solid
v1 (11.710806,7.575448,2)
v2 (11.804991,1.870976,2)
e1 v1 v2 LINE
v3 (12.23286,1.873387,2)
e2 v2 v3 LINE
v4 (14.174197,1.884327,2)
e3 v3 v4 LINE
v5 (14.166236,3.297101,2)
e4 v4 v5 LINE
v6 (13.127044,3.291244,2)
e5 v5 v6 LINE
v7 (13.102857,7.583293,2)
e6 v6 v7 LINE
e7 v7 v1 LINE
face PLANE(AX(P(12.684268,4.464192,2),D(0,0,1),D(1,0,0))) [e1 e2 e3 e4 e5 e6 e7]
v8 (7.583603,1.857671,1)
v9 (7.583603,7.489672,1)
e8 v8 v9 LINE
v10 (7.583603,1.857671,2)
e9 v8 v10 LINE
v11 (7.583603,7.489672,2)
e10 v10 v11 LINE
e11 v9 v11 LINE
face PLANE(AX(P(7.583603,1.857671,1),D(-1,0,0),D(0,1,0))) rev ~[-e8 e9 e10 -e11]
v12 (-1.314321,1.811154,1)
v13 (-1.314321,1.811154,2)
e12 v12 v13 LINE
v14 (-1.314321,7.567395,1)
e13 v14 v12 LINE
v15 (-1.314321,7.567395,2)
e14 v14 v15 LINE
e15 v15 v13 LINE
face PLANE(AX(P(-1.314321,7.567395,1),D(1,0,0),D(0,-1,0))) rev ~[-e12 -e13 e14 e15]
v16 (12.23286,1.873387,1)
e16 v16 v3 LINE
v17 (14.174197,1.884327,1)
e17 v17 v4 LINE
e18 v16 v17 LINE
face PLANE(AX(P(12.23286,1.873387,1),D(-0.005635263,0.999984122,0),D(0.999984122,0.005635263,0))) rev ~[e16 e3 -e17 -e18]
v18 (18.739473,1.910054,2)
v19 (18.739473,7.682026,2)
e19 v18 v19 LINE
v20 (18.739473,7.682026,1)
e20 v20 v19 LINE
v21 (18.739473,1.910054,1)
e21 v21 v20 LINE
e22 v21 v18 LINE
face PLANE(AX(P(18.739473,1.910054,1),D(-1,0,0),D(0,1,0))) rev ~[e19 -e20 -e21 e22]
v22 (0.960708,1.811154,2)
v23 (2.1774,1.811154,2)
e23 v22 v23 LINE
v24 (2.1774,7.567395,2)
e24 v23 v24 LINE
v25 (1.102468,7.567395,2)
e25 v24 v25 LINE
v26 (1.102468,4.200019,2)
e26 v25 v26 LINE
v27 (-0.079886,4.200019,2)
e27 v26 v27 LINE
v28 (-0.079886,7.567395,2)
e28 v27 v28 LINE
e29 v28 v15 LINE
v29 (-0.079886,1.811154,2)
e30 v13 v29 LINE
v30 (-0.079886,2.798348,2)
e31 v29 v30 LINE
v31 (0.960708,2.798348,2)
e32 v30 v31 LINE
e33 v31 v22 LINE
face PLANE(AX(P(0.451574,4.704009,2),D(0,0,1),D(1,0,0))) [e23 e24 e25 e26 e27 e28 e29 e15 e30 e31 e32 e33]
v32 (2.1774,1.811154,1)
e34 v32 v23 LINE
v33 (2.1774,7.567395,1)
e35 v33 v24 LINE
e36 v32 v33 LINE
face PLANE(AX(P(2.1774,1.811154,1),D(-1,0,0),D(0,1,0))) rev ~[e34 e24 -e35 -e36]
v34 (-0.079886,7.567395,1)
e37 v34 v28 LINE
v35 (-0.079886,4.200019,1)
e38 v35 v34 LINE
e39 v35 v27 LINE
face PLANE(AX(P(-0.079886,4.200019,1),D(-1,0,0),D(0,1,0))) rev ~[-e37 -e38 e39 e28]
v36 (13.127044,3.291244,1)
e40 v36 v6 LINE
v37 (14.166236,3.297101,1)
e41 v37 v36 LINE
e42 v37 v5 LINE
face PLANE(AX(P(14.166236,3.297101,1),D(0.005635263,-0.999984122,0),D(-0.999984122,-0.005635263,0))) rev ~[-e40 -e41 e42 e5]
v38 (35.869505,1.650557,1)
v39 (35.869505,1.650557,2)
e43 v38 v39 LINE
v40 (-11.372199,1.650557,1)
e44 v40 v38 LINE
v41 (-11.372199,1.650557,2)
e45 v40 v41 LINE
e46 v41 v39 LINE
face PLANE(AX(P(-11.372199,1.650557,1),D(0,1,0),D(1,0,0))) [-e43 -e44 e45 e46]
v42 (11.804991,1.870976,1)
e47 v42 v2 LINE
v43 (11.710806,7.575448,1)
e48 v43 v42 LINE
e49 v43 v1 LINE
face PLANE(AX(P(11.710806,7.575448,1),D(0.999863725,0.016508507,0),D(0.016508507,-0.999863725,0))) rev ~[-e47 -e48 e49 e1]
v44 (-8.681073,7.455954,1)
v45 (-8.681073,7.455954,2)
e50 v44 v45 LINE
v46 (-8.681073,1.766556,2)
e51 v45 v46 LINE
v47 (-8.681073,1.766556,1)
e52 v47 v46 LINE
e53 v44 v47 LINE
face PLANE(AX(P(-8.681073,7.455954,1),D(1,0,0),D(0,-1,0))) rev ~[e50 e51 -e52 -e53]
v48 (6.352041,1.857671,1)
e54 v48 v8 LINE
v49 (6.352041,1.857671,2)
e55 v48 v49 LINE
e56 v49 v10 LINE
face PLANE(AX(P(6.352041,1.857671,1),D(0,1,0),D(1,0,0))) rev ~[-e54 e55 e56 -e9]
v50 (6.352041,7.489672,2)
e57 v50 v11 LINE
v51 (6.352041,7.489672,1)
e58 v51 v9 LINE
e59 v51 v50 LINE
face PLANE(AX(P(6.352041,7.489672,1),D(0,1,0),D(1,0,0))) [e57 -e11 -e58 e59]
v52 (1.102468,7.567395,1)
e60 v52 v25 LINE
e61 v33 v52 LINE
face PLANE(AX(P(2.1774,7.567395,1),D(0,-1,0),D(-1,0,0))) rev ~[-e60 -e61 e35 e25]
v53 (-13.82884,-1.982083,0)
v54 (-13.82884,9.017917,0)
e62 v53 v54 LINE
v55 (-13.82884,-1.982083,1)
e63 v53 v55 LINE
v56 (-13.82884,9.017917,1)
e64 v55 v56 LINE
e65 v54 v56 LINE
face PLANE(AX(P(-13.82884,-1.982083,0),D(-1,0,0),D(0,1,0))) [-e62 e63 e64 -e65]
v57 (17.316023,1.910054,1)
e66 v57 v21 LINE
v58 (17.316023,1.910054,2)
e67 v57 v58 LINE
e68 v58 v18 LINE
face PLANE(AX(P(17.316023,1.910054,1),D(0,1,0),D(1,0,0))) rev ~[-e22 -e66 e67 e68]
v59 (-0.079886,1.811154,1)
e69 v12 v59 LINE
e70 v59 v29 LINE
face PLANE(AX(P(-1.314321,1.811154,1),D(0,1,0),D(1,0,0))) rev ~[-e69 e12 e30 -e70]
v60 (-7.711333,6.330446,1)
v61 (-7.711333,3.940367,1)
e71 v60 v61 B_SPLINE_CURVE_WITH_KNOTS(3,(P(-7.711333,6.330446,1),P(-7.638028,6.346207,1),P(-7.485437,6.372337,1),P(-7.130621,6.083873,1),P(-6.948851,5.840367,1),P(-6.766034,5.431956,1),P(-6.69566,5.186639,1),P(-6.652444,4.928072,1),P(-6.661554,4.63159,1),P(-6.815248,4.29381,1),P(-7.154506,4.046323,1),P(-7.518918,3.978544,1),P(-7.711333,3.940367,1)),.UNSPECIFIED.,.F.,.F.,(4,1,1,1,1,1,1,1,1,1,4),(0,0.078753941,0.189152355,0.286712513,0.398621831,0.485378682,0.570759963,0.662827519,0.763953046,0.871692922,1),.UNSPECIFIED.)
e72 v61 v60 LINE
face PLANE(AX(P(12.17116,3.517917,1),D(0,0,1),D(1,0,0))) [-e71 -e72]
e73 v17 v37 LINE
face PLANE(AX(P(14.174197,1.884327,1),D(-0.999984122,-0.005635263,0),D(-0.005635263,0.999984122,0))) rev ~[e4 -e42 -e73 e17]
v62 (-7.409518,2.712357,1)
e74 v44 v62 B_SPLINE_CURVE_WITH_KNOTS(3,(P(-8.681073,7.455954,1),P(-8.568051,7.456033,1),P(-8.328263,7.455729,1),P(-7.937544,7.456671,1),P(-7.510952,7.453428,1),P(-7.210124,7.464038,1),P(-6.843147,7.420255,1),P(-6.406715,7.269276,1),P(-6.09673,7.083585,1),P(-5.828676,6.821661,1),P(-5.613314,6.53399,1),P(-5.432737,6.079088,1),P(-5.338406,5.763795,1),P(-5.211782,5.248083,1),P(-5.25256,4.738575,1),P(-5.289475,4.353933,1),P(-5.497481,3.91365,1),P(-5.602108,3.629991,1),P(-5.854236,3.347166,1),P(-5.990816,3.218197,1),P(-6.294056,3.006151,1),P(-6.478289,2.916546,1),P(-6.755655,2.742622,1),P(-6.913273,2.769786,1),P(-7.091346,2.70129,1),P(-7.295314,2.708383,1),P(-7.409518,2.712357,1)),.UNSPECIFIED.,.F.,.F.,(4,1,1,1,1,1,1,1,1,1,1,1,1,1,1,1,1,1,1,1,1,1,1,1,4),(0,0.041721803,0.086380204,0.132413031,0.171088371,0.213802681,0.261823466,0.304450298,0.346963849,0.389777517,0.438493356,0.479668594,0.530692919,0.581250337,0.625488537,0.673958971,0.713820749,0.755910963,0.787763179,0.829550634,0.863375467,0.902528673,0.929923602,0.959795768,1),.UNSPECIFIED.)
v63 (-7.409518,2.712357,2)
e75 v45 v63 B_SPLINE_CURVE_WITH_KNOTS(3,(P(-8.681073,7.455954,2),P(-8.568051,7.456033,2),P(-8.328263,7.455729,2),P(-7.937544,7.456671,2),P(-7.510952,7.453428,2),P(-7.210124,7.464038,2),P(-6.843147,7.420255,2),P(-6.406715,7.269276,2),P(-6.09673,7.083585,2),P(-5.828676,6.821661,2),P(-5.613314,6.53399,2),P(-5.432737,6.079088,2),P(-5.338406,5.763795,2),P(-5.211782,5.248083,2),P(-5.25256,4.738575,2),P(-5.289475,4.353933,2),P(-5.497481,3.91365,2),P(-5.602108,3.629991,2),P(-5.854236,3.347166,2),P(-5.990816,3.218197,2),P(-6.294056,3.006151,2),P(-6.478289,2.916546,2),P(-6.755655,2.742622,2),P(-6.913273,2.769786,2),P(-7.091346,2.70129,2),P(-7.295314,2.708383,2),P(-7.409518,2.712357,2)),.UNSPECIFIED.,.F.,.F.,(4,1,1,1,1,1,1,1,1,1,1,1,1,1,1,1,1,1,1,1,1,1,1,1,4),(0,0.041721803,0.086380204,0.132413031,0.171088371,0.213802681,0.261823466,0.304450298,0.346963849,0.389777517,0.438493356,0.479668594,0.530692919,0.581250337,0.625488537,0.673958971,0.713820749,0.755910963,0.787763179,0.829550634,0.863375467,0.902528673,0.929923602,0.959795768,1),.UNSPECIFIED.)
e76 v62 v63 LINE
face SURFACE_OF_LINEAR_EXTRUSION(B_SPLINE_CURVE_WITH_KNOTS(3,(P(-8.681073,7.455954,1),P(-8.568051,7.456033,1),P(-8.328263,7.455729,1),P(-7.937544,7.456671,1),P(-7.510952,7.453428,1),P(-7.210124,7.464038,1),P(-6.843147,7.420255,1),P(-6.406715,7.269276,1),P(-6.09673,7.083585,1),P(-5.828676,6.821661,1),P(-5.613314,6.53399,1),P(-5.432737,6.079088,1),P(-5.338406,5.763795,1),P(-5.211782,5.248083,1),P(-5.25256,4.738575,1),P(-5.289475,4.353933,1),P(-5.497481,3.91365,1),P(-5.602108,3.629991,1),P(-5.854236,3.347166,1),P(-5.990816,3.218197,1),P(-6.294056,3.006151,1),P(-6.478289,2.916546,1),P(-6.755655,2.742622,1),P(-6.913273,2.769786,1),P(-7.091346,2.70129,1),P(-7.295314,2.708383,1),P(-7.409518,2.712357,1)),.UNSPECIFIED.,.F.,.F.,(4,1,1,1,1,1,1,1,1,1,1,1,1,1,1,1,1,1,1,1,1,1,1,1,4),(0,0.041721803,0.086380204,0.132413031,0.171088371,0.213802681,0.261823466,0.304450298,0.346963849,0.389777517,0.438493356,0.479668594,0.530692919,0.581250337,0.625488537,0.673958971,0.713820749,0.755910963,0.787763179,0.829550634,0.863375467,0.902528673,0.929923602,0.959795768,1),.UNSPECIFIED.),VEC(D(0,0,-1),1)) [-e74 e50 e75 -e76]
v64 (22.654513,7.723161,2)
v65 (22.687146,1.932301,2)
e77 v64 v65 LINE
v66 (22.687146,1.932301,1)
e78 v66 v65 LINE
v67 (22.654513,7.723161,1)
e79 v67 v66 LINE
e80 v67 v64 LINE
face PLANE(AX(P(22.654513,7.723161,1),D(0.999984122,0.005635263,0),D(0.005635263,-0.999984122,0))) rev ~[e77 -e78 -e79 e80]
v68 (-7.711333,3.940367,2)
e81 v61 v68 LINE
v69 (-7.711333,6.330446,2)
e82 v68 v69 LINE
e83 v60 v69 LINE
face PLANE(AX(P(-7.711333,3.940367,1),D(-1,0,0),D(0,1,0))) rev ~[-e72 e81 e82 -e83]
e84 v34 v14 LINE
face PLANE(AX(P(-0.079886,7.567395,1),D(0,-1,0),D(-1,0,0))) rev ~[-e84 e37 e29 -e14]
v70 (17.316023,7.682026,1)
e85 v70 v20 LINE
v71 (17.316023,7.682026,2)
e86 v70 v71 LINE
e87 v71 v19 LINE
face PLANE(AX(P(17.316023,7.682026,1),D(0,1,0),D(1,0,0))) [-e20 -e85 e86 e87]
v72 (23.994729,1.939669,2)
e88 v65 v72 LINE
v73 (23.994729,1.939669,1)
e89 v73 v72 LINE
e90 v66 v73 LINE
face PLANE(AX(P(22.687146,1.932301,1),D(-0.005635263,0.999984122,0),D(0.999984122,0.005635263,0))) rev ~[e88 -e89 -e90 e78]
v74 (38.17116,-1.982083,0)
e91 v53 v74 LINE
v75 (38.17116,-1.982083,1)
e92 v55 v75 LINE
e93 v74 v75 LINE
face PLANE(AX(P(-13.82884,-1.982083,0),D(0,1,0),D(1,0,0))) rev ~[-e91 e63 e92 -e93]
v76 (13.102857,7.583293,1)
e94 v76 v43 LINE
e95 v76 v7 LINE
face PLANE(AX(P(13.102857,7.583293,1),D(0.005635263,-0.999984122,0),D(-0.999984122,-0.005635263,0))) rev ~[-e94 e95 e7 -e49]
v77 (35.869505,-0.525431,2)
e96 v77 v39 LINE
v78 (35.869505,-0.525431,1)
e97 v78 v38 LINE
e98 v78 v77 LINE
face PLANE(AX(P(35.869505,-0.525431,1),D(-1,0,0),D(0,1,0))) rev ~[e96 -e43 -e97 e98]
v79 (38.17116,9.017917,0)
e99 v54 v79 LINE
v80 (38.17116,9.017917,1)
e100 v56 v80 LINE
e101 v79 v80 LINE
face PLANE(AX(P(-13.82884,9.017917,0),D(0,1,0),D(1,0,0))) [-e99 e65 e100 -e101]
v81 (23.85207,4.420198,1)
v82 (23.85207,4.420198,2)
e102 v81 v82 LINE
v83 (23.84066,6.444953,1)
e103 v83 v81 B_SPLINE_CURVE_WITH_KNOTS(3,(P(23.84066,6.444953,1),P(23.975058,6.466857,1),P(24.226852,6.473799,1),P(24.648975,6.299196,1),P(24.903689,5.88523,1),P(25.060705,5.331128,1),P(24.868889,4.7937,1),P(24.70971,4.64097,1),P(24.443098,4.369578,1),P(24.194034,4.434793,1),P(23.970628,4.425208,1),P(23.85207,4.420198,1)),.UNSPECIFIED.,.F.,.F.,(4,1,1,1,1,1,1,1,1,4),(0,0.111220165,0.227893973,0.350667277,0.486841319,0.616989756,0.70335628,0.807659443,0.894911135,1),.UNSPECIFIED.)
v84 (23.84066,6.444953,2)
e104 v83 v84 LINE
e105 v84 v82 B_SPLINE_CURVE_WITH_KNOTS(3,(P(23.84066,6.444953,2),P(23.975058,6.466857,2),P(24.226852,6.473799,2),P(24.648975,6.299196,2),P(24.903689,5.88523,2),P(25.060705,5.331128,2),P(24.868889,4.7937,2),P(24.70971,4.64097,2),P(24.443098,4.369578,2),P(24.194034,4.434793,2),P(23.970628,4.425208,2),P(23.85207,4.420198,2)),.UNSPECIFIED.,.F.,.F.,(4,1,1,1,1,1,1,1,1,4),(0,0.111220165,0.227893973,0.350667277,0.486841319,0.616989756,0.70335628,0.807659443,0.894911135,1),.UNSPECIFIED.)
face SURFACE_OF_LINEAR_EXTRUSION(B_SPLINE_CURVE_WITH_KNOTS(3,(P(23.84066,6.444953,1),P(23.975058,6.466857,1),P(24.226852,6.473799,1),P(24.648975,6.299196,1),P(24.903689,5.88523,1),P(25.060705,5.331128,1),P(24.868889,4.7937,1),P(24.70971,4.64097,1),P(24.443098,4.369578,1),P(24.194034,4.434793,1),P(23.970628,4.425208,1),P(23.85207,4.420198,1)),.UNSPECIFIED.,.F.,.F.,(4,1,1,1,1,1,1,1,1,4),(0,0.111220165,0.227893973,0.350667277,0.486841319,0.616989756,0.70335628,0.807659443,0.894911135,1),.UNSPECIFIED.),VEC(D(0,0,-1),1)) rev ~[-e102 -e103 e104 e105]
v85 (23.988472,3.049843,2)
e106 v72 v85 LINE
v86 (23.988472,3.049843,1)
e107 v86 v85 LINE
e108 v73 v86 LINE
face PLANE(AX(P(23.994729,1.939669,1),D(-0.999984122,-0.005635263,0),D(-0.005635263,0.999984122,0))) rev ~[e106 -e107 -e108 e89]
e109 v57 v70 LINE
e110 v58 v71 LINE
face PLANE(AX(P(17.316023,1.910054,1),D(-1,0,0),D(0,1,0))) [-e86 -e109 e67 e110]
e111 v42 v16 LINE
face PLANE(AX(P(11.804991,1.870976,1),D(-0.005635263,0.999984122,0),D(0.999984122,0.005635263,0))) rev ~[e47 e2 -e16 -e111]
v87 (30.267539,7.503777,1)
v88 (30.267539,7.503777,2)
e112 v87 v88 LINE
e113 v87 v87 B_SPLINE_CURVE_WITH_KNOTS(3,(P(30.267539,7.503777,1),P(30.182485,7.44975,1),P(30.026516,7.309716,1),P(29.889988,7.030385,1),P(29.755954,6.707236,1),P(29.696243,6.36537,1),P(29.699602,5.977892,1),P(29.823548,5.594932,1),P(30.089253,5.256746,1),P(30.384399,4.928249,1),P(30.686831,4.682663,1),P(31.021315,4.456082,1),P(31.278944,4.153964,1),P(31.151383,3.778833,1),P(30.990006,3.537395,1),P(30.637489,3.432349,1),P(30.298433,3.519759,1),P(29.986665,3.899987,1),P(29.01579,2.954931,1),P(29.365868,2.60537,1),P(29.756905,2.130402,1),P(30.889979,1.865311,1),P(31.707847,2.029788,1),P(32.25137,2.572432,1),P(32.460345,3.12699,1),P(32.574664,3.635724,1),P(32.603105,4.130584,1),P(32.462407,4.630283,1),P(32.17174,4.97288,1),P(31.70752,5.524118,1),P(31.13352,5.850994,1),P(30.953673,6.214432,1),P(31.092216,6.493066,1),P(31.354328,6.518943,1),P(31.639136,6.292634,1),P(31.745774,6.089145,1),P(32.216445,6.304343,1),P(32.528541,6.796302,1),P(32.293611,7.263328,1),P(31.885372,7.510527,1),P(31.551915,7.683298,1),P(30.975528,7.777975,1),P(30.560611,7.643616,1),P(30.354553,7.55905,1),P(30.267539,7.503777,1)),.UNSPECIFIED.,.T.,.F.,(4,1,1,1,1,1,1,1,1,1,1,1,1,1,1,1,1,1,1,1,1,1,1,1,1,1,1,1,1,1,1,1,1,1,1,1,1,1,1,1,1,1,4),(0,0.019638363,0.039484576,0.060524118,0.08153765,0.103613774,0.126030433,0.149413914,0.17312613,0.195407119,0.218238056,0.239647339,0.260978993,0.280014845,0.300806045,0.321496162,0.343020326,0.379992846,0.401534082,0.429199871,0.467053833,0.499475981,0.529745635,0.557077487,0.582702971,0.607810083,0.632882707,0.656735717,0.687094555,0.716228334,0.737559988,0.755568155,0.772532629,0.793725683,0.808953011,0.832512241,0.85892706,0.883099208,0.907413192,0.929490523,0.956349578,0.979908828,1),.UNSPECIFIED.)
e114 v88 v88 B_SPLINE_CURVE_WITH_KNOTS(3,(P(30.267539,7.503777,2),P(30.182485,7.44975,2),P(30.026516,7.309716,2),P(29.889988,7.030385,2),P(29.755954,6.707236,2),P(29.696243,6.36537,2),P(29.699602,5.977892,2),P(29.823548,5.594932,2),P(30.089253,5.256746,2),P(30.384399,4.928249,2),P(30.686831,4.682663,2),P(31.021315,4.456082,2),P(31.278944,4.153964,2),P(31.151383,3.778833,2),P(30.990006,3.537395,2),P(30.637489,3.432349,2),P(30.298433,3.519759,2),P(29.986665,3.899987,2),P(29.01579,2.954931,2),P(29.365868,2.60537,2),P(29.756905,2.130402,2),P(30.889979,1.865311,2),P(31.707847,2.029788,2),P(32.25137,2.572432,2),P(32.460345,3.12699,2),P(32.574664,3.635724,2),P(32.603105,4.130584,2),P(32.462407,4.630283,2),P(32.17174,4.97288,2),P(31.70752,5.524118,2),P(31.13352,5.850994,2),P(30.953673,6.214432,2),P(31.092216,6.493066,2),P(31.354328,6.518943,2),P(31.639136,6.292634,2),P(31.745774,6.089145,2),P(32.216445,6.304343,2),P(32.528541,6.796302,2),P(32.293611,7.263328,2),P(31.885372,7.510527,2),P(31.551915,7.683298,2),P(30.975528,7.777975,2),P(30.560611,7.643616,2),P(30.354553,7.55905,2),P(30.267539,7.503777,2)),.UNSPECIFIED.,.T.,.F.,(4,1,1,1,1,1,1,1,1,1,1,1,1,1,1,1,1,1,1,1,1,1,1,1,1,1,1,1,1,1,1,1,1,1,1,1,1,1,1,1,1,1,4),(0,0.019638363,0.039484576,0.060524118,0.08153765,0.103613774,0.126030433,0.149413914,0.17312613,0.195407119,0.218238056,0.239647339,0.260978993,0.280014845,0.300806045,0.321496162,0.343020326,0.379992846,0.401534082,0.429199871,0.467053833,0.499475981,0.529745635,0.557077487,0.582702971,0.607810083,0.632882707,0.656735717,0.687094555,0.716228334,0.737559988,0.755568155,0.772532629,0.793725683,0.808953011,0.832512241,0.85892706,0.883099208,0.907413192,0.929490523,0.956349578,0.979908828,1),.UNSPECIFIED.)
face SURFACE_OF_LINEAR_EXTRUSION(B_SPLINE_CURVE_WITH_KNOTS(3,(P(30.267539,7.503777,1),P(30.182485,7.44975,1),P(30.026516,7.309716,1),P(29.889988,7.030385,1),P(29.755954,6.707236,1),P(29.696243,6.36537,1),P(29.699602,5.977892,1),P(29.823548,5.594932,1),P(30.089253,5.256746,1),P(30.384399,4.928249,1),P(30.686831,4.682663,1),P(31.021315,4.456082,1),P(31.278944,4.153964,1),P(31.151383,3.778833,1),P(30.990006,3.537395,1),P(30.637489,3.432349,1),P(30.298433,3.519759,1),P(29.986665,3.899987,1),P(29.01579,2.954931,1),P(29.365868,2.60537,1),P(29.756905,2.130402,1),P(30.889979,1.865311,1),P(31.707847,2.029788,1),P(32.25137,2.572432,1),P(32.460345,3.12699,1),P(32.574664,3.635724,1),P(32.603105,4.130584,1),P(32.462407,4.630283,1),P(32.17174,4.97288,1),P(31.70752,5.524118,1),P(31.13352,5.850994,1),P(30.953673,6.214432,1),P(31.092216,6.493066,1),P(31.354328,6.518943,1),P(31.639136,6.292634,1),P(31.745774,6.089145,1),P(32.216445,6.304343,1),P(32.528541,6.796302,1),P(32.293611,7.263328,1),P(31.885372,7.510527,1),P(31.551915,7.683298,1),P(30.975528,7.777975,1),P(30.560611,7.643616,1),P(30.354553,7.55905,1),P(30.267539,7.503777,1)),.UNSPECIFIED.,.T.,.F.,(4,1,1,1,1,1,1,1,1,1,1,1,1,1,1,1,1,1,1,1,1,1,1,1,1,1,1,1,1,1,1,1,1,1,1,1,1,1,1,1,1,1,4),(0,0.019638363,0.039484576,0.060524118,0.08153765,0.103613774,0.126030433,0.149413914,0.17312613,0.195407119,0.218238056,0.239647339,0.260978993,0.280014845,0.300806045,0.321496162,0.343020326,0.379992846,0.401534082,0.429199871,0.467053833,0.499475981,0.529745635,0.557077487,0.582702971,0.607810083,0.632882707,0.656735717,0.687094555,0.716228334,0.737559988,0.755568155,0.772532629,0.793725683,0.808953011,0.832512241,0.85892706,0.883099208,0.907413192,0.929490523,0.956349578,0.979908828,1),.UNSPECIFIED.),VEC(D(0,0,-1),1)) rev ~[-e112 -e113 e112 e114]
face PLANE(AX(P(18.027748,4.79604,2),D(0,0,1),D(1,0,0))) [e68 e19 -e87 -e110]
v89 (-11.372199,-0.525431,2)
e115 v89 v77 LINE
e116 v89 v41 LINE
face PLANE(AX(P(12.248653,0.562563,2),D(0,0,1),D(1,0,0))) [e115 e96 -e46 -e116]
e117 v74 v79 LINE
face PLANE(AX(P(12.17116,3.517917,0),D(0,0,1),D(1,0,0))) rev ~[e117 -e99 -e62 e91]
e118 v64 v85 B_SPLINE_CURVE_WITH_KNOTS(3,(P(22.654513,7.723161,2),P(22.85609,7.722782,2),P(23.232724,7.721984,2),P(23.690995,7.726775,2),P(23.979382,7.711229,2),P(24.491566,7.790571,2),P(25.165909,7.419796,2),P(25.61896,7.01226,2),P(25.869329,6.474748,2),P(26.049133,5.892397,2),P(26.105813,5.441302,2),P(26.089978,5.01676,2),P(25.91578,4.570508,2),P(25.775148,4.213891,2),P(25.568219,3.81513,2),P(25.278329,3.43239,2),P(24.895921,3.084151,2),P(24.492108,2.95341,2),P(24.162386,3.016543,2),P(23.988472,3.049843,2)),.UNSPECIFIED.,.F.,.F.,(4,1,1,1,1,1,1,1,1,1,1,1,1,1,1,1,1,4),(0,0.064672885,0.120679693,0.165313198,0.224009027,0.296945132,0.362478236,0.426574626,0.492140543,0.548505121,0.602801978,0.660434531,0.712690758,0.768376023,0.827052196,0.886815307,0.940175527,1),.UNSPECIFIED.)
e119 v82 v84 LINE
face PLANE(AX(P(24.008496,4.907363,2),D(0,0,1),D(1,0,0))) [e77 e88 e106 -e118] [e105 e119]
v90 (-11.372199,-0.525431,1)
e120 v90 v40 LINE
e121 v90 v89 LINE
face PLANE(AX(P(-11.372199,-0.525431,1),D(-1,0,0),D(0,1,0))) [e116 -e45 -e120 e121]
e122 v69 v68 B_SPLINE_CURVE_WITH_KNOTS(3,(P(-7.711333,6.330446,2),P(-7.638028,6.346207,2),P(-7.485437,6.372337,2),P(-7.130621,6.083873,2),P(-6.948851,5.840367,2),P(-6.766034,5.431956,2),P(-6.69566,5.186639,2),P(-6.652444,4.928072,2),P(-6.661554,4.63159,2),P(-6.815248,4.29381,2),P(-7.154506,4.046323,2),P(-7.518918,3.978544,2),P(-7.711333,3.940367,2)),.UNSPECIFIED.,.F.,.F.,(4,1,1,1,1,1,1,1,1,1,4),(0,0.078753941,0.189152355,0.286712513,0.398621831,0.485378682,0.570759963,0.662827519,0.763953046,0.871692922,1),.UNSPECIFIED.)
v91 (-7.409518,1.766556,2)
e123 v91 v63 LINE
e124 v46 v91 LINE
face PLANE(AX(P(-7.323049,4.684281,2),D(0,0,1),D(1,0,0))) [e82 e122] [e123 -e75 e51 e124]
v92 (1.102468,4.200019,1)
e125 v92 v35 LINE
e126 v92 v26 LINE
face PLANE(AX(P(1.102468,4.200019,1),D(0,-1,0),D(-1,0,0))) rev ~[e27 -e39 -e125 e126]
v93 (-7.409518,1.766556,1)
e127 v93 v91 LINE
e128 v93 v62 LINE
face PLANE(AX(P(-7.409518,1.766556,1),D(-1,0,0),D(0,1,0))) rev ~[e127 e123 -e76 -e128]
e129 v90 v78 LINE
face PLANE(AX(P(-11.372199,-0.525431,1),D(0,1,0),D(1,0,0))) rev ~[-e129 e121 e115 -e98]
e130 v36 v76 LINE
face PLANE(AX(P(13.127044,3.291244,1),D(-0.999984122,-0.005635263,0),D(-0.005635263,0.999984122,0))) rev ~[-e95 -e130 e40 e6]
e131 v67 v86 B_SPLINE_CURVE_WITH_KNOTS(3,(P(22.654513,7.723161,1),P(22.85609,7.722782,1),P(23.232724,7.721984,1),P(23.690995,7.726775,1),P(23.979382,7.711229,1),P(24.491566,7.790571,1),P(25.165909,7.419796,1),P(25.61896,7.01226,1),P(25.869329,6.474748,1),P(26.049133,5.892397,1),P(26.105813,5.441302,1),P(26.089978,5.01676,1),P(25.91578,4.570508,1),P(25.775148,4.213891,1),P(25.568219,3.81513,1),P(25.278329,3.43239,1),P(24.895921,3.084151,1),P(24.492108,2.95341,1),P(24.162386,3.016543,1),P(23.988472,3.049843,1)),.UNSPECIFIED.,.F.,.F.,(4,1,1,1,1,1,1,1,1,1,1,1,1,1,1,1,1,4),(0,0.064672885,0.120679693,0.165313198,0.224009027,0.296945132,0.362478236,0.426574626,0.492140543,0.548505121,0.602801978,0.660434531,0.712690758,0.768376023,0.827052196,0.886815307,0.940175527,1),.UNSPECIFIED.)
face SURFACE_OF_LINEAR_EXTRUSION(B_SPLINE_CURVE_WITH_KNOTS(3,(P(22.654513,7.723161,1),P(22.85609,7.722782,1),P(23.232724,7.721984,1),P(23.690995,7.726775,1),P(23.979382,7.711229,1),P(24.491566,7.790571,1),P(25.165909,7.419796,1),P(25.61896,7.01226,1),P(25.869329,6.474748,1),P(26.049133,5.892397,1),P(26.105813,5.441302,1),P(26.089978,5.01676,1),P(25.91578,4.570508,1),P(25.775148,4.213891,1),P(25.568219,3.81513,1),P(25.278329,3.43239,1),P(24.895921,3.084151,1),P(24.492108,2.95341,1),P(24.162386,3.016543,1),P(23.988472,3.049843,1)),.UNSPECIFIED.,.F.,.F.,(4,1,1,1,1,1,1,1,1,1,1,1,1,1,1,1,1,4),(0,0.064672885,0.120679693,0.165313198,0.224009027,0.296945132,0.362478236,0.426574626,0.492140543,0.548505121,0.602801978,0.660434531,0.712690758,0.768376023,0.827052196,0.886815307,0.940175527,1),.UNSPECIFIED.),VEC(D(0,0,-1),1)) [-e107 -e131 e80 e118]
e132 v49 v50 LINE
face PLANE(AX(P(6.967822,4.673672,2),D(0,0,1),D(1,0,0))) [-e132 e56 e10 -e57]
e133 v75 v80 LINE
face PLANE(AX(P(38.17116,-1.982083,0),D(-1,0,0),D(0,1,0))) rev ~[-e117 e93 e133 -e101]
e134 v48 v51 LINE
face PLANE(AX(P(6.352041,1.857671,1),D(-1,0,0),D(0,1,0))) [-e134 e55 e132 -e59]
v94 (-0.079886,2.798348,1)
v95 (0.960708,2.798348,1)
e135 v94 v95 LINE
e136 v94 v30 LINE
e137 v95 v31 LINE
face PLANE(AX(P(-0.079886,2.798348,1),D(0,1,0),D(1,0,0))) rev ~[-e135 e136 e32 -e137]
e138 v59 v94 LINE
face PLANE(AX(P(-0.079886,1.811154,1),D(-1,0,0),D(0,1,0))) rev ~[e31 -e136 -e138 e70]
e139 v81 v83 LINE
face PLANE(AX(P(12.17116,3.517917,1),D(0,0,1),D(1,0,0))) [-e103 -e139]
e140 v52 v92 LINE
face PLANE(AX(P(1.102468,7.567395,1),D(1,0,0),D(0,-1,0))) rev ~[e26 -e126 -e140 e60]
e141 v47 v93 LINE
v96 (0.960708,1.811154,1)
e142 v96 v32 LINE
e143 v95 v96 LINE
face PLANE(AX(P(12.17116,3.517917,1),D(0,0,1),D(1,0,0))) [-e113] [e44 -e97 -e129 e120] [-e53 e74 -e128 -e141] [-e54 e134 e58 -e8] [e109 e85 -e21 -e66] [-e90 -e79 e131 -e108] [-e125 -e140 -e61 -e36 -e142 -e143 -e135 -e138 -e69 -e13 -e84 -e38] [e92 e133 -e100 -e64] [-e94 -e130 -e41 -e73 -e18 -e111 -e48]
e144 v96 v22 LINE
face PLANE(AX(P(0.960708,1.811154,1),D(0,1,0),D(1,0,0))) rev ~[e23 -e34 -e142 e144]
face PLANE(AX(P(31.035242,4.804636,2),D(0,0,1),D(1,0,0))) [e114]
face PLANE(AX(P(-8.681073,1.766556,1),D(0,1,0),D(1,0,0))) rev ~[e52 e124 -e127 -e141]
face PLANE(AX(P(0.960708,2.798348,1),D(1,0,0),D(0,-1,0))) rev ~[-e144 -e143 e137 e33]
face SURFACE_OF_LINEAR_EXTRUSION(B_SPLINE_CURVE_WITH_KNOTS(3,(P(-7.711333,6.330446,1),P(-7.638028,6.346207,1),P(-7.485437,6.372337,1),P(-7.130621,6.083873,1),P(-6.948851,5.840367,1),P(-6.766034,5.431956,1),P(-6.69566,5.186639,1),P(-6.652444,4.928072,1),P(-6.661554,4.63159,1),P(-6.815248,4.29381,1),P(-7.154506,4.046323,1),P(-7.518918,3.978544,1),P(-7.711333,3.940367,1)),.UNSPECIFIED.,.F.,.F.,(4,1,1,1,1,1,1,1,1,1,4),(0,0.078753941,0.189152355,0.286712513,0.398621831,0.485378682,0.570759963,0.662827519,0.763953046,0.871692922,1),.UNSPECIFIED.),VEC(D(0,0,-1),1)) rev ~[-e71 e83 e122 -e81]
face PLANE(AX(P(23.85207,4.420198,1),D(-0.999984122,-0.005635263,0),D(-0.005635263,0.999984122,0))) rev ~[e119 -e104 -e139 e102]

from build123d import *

# Parameters (mm, degrees)
F0_W     = 52
F0_H     = 11
F1_DEPTH = 1
F2_W     = 1.4234498572
F2_H     = 5.771971931
F2_W_2   = 1.2315623462
F2_H_2   = 5.6320009753
F2_W_3   = 47.2417045385
F2_H_3   = 2.1759883966
F3_DEPTH = 1


with BuildPart() as f1:
    # F0 (on Top) → F1 (new body)
    with BuildSketch(Plane.XY):
        with Locations((12.1711598933, 3.5179169215)):
            Rectangle(F0_W, F0_H)
    extrude(amount=F1_DEPTH)

    # F2 (on face) → F3 (join)
    with BuildSketch(Plane.XY.offset(1)):
        with BuildLine():
            Line((-8.6810728535, 7.4559538625), (-8.6810728535, 1.7665559426))
            Line((-8.6810728535, 1.7665559426), (-7.4095181189, 1.7665559426))
            Line((-7.4095181189, 1.7665559426), (-7.4095181189, 2.7123566251))
            add(Edge.make_bspline(
                [(-8.6810728535, 7.4559538625), (-8.5680510591, 7.4560327494), (-8.3282629596, 7.455729442), (-7.9375436883, 7.45667137), (-7.5109521559, 7.4534282198), (-7.2101244349, 7.4640382822), (-6.8431465693, 7.420254947), (-6.4067147095, 7.2692755421), (-6.0967300261, 7.0835848649), (-5.8286763748, 6.8216608321), (-5.6133135599, 6.5339902549), (-5.4327373901, 6.0790876514), (-5.3384061591, 5.7637954389), (-5.2117823146, 5.2480834069), (-5.2525600575, 4.7385748886), (-5.2894746628, 4.353933142), (-5.497480762, 3.9136503185), (-5.6021081024, 3.6299914185), (-5.8542362388, 3.3471657412), (-5.9908162337, 3.2181966012), (-6.2940559647, 3.0061514979), (-6.4782892916, 2.9165460729), (-6.7556552402, 2.7426222092), (-6.9132734754, 2.7697855466), (-7.0913457329, 2.7012895313), (-7.2953137057, 2.7083828536), (-7.4095181189, 2.7123566251)],
                knots=[0, 0, 0, 0, 0.0417218025, 0.0863802041, 0.1324130307, 0.1710883711, 0.2138026806, 0.2618234655, 0.3044502978, 0.3469638493, 0.3897775173, 0.4384933562, 0.4796685939, 0.5306929192, 0.5812503366, 0.6254885373, 0.6739589708, 0.713820749, 0.7559109632, 0.7877631793, 0.8295506341, 0.863375467, 0.9025286725, 0.9299236019, 0.9597957676, 1, 1, 1, 1], degree=3))
        make_face()
        with BuildLine():
            Line((-7.711332757, 3.9403666742), (-7.711332757, 6.3304463401))
            add(Edge.make_bspline(
                [(-7.711332757, 6.3304463401), (-7.6380281681, 6.3462068662), (-7.4854367522, 6.3723372302), (-7.1306213556, 6.0838727827), (-6.9488513916, 5.8403672442), (-6.7660336237, 5.431955854), (-6.6956598208, 5.1866391222), (-6.6524440822, 4.9280718903), (-6.6615537169, 4.631589897), (-6.8152480606, 4.2938101013), (-7.1545063308, 4.0463230342), (-7.5189176208, 3.9785436148), (-7.711332757, 3.9403666742)],
                knots=[0, 0, 0, 0, 0.078753941, 0.1891523546, 0.2867125132, 0.3986218311, 0.4853786817, 0.5707599634, 0.6628275194, 0.7639530461, 0.8716929224, 1, 1, 1, 1], degree=3))
        make_face(mode=Mode.SUBTRACT)
        Polygon((-1.3143211254, 7.5673949283), (-1.3143211254, 1.8111537833), (-0.0798860092, 1.8111537833), (-0.0798860092, 2.7983480289), (0.9607079555, 2.7983480289), (0.9607079555, 1.8111537833), (1.1895181702, 1.8111537833), (2.1774004563, 1.8167208484), (2.1774004563, 7.5673949283), (1.1024678242, 7.5673949283), (1.1024678242, 4.2000194702), (-0.0798860092, 4.2000194702), (-0.0798860092, 7.5673949283), align=None)
        with Locations((18.0277478164, 4.7960399328)):
            Rectangle(F2_W, F2_H)
        with BuildLine():
            Line((22.6545128971, 7.7231605537), (22.687146436, 1.9323005009))
            Line((22.687146436, 1.9323005009), (23.9947285176, 1.9396691871))
            Line((23.9947285176, 1.9396691871), (23.9884722978, 3.0498427805))
            add(Edge.make_bspline(
                [(22.6545128971, 7.7231605537), (22.8560900818, 7.7227823703), (23.2327242711, 7.7219841766), (23.6909951316, 7.7267752133), (23.9793824377, 7.7112292477), (24.4915658414, 7.7905706665), (25.1659087519, 7.4197956799), (25.6189600223, 7.0122603084), (25.8693289928, 6.4747476473), (26.049132536, 5.8923968001), (26.1058126655, 5.4413021218), (26.0899777886, 5.0167600835), (25.9157795716, 4.5705081446), (25.7751484075, 4.2138911663), (25.5682187558, 3.8151296982), (25.2783286091, 3.4323897251), (24.8959214359, 3.0841513654), (24.4921082595, 2.9534103304), (24.1623862688, 3.0165429768), (23.9884722978, 3.0498427805)],
                knots=[0, 0, 0, 0, 0.0646728852, 0.1206796931, 0.1653131975, 0.2240090272, 0.2969451323, 0.3624782362, 0.426574626, 0.4921405426, 0.5485051206, 0.6028019784, 0.6604345309, 0.7126907578, 0.7683760226, 0.8270521958, 0.8868153069, 0.9401755265, 1, 1, 1, 1], degree=3))
        make_face()
        with BuildLine():
            Line((23.8520704395, 4.4201976364), (23.8406602293, 6.4449529164))
            add(Edge.make_bspline(
                [(23.8406602293, 6.4449529164), (23.9750576025, 6.4668569791), (24.2268516988, 6.4737990557), (24.6489752542, 6.2991960076), (24.9036894691, 5.8852304493), (25.0607048802, 5.3311282804), (24.8688894668, 4.7936998995), (24.7097095726, 4.6409696395), (24.4430975934, 4.3695779186), (24.1940338722, 4.4347926542), (23.9706280867, 4.4252082423), (23.8520704395, 4.4201976364)],
                knots=[0, 0, 0, 0, 0.1112201646, 0.2278939731, 0.3506672767, 0.4868413186, 0.6169897561, 0.7033562798, 0.8076594433, 0.8949111354, 1, 1, 1, 1], degree=3))
        make_face(mode=Mode.SUBTRACT)
        Polygon((11.710806131, 7.5754484088), (11.8049912959, 1.8709757185), (12.232859619, 1.8733869074), (14.1741974096, 1.8843270306), (14.1662359319, 3.2971006594), (13.1270440814, 3.2912444468), (13.1028568734, 7.5832931057), align=None)
        Polygon((2.1774004563, 1.8167208484), (1.1895181702, 1.8111537833), (2.1774004563, 1.8111537833), align=None)
        with Locations((6.9678220898, 4.6736719087)):
            Rectangle(F2_W_2, F2_H_2)
        with BuildLine():
            add(Edge.make_bspline(
                [(30.2675385028, 7.5037772767), (30.1824850841, 7.4497499792), (30.0265163384, 7.3097160596), (29.8899882721, 7.0303846456), (29.755953953, 6.70723605), (29.6962430109, 6.3653703068), (29.6996022205, 5.9778919099), (29.8235480593, 5.5949323699), (30.0892534628, 5.2567462501), (30.3843992709, 4.9282492034), (30.6868308195, 4.6826631017), (31.0213151957, 4.4560820747), (31.2789444885, 4.1539635477), (31.1513831405, 3.7788328659), (30.9900064643, 3.5373950074), (30.6374890037, 3.4323494647), (30.2984334547, 3.5197593128), (29.98666478, 3.8999869558), (29.0157896874, 2.9549310897), (29.3658678256, 2.6053704793), (29.7569054824, 2.1304016508), (30.8899791448, 1.8653112401), (31.707847135, 2.0297876276), (32.2513704096, 2.5724322724), (32.4603449706, 3.1269895477), (32.5746640915, 3.6357240849), (32.6031051629, 4.1305835962), (32.4624069773, 4.6302825117), (32.17174024, 4.9728796601), (31.7075202631, 5.524117738), (31.1335199238, 5.8509943665), (30.9536732945, 6.2144315958), (31.0922159969, 6.4930656513), (31.3543279873, 6.5189432509), (31.6391361833, 6.2926340891), (31.7457738129, 6.0891451148), (32.2164445492, 6.3043426156), (32.5285408, 6.7963023286), (32.2936114378, 7.2633275237), (31.8853720044, 7.5105274391), (31.5519150133, 7.6832983934), (30.9755277871, 7.7779752007), (30.5606105125, 7.6436156635), (30.3545530299, 7.5590503018), (30.2675385028, 7.5037772767)],
                knots=[0, 0, 0, 0, 0.0196383628, 0.039484576, 0.0605241176, 0.0815376503, 0.103613774, 0.1260304332, 0.1494139145, 0.1731261301, 0.1954071194, 0.218238056, 0.2396473387, 0.2609789929, 0.2800148452, 0.300806045, 0.321496162, 0.343020326, 0.3799928462, 0.4015340823, 0.4291998705, 0.4670538333, 0.4994759809, 0.5297456353, 0.5570774867, 0.5827029706, 0.6078100832, 0.6328827066, 0.6567357166, 0.687094555, 0.7162283344, 0.7375599876, 0.7555681545, 0.7725326286, 0.7937256831, 0.8089530108, 0.8325122414, 0.8589270595, 0.8830992084, 0.9074131925, 0.9294905232, 0.9563495781, 0.9799088282, 1, 1, 1, 1], degree=3))
        make_face()
        with Locations((12.2486529872, 0.5625631893)):
            Rectangle(F2_W_3, F2_H_3)
    extrude(amount=F3_DEPTH)


solid = f1.part
